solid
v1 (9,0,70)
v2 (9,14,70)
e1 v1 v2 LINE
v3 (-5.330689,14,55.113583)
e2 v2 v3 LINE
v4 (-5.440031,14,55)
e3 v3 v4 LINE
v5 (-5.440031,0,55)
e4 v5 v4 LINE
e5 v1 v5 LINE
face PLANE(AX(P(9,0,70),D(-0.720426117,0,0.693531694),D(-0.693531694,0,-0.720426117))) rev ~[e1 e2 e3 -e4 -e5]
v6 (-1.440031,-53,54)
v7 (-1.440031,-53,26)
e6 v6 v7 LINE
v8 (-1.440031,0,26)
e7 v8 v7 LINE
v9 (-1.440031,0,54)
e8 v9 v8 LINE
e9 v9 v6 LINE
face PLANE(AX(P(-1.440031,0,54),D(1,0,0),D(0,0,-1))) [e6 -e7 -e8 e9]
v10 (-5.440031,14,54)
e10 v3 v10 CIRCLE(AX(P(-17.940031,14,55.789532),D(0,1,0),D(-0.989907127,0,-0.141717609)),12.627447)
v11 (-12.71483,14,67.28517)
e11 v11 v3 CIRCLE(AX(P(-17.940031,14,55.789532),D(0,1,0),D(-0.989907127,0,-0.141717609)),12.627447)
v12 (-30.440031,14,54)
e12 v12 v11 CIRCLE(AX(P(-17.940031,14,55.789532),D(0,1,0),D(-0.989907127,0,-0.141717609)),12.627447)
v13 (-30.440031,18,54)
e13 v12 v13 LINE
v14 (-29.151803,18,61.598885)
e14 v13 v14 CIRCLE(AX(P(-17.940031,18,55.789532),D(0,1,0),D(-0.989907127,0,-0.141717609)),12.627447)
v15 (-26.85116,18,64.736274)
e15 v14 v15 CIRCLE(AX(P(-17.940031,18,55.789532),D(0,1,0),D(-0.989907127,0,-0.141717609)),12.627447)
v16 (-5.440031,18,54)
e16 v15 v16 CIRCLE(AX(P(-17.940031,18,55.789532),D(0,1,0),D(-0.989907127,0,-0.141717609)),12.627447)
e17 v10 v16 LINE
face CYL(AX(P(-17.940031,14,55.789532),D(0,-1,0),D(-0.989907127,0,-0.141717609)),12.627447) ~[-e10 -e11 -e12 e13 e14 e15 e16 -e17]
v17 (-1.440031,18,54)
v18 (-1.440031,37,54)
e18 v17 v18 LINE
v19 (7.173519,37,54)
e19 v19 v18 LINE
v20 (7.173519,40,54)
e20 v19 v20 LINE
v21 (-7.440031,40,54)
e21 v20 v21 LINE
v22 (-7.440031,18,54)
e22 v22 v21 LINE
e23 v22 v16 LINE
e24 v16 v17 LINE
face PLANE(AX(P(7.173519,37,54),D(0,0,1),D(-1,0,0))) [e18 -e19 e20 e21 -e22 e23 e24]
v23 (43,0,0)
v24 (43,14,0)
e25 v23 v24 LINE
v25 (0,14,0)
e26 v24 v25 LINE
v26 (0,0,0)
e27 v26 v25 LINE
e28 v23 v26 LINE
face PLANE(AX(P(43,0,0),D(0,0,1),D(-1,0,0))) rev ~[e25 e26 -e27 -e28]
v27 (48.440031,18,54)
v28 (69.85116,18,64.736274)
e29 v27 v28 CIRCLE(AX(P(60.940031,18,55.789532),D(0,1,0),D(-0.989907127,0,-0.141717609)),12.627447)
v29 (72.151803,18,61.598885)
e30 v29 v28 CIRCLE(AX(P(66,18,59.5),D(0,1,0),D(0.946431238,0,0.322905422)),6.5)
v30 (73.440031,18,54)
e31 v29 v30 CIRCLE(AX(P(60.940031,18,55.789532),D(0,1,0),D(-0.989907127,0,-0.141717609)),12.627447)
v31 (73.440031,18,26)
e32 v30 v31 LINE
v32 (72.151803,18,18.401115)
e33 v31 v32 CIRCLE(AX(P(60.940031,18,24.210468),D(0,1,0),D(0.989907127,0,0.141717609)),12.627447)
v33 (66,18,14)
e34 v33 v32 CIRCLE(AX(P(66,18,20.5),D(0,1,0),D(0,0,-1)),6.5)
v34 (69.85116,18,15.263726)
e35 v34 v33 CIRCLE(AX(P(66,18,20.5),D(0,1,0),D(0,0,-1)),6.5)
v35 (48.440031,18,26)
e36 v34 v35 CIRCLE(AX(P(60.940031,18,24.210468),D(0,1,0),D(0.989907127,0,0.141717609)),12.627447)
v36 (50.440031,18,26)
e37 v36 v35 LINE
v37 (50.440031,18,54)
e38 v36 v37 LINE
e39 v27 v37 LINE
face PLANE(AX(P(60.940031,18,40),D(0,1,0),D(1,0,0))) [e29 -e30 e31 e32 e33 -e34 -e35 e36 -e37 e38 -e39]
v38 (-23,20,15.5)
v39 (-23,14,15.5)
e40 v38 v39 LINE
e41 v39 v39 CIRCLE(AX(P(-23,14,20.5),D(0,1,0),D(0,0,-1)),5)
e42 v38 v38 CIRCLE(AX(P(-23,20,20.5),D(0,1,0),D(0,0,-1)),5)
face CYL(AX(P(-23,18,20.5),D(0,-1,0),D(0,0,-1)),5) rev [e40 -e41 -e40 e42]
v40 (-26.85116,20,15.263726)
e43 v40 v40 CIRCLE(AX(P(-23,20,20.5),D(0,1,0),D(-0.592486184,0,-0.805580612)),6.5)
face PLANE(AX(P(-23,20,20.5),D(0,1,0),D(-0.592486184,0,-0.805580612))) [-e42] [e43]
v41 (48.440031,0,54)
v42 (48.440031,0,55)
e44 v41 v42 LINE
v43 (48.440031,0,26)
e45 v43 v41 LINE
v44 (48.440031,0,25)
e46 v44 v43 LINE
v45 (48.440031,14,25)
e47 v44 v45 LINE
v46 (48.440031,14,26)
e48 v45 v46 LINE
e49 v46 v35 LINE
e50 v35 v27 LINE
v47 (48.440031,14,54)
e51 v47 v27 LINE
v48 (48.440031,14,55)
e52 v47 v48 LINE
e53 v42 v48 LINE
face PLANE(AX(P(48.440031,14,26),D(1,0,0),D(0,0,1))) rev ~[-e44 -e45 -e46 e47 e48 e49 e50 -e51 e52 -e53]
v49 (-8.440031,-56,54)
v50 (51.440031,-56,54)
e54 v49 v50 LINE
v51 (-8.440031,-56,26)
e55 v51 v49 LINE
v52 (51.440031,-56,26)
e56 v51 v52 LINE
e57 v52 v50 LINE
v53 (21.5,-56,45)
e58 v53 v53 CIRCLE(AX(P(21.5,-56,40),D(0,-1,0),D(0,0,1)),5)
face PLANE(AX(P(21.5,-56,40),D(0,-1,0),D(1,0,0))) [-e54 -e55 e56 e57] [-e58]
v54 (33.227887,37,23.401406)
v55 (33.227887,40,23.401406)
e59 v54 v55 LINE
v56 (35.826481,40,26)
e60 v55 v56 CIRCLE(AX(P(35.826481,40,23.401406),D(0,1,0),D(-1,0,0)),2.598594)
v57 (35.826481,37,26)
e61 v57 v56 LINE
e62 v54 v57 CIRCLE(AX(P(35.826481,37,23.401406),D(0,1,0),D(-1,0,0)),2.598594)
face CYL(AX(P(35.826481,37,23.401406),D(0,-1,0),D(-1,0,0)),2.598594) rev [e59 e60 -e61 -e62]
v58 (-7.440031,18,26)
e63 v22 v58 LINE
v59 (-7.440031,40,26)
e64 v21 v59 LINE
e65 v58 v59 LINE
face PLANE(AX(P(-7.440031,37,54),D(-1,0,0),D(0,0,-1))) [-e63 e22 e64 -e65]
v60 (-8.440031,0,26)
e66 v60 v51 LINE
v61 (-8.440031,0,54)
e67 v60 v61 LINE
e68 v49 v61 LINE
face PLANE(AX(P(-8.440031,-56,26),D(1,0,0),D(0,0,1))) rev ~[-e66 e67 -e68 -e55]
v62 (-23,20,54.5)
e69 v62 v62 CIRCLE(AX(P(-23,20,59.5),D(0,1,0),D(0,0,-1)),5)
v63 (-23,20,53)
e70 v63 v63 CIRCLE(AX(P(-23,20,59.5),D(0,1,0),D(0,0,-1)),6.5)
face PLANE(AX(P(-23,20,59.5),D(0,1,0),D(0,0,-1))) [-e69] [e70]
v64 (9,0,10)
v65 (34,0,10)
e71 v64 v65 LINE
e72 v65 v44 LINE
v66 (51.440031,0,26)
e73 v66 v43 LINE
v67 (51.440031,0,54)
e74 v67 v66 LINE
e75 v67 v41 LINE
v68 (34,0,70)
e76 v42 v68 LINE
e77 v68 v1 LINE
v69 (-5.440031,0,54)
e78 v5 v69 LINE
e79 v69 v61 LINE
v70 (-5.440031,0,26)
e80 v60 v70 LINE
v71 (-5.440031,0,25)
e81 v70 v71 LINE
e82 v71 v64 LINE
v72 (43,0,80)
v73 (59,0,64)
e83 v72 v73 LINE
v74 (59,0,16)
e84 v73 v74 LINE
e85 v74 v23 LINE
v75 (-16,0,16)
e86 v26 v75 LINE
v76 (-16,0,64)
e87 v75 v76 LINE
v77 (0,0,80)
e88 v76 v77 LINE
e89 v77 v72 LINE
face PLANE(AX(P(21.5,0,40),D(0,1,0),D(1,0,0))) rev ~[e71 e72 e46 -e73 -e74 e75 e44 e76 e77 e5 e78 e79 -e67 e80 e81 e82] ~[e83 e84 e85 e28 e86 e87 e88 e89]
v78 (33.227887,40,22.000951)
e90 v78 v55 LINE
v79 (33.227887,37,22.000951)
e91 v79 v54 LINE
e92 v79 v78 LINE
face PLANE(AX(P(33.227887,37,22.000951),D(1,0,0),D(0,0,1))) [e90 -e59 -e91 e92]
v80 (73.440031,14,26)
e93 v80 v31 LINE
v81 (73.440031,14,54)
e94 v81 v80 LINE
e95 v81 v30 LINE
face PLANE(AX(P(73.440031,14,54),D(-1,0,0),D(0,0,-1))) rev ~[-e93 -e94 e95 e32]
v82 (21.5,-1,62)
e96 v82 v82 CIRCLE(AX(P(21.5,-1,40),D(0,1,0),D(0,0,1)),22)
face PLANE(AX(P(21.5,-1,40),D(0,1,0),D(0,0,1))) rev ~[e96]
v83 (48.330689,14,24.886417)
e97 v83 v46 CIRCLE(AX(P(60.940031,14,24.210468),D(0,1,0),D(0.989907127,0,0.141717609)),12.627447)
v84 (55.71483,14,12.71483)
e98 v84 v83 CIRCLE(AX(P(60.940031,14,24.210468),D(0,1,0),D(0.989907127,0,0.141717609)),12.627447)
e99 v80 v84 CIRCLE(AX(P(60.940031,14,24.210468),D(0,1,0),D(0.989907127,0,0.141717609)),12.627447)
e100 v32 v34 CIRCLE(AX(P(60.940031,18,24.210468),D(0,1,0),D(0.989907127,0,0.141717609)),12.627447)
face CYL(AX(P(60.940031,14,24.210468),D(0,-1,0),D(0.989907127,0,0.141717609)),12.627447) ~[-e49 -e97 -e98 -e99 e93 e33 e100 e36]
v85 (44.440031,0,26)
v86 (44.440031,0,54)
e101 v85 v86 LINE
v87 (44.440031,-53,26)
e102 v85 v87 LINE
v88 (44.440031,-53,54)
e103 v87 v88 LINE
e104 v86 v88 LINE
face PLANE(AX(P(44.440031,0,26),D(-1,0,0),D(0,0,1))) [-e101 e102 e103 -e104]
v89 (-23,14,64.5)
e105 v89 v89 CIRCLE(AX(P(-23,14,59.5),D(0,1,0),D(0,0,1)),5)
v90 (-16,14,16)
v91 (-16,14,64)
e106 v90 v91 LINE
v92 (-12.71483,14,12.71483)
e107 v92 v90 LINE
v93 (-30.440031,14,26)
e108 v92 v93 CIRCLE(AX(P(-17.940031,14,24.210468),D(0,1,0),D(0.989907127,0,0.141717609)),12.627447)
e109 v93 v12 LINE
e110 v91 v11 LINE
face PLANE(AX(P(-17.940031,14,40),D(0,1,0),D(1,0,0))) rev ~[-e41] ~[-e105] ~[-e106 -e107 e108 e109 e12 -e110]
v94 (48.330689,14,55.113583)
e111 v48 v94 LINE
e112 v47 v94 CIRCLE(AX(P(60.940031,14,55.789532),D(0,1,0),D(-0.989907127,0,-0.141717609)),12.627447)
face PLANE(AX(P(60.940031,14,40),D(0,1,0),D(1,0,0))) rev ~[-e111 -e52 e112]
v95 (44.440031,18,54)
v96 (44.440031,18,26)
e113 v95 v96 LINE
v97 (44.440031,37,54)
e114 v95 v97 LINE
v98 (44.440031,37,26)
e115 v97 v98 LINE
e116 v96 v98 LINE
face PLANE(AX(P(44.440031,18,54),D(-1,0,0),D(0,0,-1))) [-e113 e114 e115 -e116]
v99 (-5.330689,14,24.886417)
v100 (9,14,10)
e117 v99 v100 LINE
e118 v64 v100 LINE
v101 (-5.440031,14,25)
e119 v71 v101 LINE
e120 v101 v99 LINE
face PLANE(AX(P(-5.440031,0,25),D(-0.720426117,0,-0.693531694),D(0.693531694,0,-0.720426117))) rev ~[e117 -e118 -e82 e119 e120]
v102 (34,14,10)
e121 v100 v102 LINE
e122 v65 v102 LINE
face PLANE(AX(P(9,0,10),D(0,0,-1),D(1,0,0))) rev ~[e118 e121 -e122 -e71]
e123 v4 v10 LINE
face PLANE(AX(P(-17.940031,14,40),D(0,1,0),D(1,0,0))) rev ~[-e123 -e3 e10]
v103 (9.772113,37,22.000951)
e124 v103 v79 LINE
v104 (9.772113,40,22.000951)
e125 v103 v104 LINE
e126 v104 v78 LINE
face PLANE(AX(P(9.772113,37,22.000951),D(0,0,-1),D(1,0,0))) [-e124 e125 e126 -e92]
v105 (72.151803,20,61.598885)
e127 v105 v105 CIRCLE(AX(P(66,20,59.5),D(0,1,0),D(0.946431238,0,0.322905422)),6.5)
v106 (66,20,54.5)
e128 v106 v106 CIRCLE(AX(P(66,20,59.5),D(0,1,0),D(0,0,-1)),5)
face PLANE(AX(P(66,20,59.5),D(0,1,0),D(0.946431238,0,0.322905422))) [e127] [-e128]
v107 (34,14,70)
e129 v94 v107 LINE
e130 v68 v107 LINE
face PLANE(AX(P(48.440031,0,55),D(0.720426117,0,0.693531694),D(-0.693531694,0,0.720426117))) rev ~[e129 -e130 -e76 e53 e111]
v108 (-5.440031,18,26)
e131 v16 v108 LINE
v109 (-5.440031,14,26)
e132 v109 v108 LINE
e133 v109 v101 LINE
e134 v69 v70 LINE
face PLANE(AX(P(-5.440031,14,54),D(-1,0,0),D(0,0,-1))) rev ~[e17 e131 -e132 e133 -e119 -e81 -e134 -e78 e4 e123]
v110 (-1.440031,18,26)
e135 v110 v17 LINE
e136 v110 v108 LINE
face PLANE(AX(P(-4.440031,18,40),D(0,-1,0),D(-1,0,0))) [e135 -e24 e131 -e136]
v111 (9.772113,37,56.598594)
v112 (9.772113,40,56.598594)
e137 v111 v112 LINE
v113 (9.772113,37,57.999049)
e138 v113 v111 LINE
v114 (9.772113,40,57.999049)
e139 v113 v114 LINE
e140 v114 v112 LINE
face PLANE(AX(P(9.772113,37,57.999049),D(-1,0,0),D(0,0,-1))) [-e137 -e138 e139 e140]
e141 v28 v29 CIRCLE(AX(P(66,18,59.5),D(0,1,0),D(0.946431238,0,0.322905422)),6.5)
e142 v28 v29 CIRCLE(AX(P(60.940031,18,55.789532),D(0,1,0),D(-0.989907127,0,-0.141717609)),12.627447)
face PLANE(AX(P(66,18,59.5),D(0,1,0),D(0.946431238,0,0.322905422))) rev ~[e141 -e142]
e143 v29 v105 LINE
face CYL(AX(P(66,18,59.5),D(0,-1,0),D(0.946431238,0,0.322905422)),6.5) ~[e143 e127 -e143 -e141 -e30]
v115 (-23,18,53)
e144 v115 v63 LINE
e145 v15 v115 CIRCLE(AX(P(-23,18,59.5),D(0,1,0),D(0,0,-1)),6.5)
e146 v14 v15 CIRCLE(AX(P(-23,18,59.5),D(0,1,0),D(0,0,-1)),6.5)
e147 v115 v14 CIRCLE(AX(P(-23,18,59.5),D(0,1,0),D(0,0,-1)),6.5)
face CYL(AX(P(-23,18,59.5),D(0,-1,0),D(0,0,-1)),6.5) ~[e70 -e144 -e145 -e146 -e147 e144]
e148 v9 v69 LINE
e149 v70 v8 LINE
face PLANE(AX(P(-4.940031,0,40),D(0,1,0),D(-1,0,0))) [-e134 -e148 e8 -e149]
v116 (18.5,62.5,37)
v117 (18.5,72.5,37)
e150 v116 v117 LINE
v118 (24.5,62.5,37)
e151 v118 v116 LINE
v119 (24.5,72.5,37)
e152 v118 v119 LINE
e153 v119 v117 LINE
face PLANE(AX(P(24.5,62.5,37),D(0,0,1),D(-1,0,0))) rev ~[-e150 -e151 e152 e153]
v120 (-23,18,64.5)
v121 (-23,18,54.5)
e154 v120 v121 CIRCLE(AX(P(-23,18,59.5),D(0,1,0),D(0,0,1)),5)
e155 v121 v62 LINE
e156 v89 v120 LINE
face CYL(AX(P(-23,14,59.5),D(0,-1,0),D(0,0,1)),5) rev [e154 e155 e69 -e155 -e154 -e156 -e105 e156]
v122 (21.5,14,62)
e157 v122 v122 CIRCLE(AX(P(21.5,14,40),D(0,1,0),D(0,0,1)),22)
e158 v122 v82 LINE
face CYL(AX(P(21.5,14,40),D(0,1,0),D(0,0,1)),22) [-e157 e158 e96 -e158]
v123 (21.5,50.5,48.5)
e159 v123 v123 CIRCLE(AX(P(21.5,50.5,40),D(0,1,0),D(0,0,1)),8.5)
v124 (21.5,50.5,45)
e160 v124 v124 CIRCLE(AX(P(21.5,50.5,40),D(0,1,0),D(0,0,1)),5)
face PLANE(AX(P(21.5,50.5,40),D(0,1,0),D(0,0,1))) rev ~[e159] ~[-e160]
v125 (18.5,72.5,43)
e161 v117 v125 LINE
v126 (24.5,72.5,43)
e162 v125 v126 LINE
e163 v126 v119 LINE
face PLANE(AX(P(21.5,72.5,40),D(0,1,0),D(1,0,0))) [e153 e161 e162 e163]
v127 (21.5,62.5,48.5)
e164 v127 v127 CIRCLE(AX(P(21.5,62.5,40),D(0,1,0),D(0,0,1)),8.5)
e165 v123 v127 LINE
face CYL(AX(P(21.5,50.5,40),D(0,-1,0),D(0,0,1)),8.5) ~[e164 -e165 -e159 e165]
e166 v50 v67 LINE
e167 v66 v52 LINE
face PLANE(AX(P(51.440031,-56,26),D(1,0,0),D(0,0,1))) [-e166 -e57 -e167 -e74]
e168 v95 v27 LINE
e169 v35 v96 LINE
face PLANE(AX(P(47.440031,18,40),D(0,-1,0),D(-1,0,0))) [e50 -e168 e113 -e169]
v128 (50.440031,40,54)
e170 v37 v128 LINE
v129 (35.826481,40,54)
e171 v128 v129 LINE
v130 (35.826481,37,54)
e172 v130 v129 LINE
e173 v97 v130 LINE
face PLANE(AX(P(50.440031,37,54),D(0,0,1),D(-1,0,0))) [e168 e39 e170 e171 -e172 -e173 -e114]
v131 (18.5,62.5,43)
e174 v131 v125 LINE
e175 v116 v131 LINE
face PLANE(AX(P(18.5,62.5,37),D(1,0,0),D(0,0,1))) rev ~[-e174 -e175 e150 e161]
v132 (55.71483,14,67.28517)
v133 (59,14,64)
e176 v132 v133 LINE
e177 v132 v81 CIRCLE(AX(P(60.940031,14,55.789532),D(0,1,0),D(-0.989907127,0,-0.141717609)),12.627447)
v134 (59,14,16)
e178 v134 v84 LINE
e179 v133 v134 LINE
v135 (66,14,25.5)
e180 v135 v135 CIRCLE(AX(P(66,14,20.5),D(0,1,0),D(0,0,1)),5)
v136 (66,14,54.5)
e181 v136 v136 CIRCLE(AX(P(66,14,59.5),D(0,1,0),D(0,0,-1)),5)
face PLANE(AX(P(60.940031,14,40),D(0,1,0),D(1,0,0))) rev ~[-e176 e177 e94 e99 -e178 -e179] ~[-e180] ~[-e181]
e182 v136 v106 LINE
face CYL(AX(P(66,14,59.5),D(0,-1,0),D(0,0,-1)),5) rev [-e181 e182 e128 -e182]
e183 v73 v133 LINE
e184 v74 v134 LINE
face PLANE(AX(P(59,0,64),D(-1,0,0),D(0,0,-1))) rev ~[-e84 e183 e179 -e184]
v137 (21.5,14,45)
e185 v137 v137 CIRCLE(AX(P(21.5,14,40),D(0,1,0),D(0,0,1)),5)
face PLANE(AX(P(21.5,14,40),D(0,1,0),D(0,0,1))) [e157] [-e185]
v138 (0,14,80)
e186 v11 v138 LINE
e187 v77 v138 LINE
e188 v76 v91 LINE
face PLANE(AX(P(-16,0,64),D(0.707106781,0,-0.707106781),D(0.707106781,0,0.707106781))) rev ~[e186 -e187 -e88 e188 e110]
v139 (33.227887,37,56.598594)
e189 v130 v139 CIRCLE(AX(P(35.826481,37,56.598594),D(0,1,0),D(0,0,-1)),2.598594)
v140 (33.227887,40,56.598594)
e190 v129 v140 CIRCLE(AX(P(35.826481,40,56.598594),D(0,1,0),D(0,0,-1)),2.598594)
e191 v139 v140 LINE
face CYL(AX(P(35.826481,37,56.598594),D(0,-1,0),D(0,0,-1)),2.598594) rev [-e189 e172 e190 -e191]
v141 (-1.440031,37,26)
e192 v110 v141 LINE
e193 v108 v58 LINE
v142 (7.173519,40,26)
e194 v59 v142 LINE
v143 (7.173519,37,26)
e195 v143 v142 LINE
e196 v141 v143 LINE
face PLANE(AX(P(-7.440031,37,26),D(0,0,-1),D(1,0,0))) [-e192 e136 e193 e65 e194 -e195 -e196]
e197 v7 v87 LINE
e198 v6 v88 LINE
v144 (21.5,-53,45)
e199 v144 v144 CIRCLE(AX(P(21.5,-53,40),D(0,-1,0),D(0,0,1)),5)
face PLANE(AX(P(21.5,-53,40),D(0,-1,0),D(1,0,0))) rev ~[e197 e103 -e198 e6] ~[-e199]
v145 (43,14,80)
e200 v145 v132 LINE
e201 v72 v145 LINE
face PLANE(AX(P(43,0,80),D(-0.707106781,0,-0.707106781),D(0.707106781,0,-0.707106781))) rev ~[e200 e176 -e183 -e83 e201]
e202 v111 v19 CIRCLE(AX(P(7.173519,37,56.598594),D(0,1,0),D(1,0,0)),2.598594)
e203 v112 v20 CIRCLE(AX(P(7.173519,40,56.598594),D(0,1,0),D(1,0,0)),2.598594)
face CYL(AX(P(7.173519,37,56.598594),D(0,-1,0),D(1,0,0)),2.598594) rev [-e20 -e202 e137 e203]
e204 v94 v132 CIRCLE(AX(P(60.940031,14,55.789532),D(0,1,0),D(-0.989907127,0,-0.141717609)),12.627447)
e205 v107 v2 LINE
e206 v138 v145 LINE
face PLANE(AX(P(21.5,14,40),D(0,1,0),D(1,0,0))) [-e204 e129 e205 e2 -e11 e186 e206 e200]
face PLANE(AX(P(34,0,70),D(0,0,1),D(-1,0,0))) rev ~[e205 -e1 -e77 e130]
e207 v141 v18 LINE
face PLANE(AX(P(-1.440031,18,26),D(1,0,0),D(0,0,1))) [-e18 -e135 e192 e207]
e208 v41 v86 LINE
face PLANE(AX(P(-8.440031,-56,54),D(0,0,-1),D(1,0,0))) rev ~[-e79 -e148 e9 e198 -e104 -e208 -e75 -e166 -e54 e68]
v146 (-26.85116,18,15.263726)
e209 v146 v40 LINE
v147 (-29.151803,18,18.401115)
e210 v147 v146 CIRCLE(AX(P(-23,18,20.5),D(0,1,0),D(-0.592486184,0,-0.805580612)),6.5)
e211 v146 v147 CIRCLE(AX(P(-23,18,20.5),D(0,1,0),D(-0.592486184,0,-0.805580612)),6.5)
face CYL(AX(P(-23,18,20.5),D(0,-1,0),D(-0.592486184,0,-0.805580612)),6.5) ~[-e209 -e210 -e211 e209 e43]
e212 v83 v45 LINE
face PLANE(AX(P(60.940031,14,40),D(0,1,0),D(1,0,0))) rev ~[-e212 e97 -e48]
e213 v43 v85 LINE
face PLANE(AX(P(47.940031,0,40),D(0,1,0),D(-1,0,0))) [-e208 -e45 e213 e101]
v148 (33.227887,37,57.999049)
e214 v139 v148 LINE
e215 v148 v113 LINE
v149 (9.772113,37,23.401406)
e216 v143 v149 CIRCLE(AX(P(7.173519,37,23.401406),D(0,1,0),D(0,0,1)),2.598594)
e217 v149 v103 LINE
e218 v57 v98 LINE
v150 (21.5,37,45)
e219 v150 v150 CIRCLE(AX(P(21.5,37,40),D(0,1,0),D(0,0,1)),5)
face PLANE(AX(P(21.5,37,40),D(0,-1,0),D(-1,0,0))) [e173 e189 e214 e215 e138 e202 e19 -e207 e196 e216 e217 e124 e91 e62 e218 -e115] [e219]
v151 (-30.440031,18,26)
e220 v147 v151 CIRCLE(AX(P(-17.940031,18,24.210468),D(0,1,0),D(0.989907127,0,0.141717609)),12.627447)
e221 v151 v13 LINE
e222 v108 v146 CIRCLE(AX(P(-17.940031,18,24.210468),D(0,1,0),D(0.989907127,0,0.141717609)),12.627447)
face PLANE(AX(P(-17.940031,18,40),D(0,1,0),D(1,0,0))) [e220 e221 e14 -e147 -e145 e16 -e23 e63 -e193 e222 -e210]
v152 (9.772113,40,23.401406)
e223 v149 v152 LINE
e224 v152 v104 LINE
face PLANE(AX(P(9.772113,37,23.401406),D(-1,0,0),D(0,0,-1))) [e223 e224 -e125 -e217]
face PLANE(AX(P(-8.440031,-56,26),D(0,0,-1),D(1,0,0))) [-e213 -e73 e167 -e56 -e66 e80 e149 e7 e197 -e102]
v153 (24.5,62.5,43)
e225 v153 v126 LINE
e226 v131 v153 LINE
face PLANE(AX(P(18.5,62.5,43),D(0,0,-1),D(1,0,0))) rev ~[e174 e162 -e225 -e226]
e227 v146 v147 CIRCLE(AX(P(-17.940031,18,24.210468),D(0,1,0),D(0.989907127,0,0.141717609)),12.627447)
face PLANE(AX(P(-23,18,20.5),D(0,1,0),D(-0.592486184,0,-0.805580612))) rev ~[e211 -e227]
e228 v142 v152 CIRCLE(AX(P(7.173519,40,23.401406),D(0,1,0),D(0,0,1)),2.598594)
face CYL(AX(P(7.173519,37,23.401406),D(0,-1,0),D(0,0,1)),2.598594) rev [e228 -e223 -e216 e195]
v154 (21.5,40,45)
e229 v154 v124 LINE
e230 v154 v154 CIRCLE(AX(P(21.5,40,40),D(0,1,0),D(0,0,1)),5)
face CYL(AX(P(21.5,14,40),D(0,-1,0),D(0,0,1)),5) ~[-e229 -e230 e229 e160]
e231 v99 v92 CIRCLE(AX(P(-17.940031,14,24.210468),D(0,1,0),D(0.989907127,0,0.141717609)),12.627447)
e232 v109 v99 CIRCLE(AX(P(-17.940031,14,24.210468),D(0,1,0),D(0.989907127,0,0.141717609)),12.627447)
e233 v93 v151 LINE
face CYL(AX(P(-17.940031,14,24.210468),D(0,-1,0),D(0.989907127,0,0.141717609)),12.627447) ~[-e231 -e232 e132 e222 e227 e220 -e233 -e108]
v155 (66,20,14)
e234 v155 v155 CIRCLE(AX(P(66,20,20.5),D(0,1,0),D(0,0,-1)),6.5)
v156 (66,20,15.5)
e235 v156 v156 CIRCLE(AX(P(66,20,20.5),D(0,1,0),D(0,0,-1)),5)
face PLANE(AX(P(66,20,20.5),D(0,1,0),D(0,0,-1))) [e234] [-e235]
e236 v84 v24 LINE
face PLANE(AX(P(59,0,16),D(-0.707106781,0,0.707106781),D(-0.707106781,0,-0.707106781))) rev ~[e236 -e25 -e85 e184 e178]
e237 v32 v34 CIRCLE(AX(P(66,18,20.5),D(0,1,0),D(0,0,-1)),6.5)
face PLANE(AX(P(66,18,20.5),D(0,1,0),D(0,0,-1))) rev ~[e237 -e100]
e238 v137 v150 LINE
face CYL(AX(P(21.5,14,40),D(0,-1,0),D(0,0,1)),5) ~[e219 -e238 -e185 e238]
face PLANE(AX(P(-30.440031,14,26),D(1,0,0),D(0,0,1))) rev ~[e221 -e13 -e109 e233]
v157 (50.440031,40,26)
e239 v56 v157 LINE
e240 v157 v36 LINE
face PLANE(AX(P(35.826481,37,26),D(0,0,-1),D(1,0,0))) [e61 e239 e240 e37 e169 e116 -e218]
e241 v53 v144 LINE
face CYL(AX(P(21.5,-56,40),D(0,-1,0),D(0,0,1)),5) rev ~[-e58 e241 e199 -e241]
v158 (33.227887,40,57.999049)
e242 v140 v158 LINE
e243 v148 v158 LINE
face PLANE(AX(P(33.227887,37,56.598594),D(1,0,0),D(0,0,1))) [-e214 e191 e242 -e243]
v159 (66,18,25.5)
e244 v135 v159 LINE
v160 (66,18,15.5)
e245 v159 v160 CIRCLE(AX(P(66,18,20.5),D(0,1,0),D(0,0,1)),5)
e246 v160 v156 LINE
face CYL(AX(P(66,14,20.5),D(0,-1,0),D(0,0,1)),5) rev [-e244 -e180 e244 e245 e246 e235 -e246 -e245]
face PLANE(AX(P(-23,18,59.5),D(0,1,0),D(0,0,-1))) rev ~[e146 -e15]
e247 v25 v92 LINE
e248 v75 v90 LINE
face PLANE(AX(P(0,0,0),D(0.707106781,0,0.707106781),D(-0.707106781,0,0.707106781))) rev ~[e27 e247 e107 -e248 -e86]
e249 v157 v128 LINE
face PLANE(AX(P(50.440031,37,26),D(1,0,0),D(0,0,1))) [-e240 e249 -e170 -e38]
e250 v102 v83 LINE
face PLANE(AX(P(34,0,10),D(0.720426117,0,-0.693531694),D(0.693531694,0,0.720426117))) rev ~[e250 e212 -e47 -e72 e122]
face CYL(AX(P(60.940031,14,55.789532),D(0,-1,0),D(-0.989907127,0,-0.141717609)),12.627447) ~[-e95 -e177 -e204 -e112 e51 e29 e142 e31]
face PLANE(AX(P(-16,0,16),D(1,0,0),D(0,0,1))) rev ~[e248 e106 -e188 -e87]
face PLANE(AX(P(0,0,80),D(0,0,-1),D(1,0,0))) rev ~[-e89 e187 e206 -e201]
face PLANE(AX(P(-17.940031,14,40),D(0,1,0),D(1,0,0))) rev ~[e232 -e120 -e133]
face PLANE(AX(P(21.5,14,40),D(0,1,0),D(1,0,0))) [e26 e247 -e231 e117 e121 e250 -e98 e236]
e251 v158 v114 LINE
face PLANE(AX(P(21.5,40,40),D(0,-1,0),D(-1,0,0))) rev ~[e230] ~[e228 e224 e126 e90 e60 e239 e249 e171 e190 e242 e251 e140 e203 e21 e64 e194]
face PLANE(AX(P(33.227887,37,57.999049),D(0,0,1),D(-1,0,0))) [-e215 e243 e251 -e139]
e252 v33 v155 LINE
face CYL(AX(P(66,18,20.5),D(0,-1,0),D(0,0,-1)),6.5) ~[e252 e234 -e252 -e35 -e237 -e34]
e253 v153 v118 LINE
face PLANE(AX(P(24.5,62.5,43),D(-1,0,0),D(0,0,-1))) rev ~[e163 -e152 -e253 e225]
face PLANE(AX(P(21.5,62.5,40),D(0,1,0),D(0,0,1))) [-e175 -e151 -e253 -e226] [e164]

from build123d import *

# Parameters (mm, degrees)
SALIENTE_EXTRUIR1_DEPTH  = 14
CROQUIS4_R               = 22
SALIENTE_EXTRUIR2_DEPTH  = 15
CROQUIS5_R               = 5
SALIENTE_EXTRUIR3_DEPTH  = 4
CROQUIS7_R               = 6.5
CROQUIS7_R_2             = 5
SALIENTE_EXTRUIR4_DEPTH  = 2
SALIENTE_EXTRUIR5_DEPTH  = 19
CROQUIS9_R               = 5
SALIENTE_EXTRUIR6_DEPTH  = 3
CROQUIS10_R              = 5
SALIENTE_EXTRUIR7_DEPTH  = 36.5
CROQUIS12_R              = 8.5
SALIENTE_EXTRUIR8_DEPTH  = 12
SALIENTE_EXTRUIR9_DEPTH  = 53
SALIENTE_EXTRUIR10_START = 3
CROQUIS14_W              = 59.880061862
CROQUIS14_H              = 28
CROQUIS14_R              = 5
SALIENTE_EXTRUIR10_DEPTH = 3
SALIENTE_EXTRUIR11_DEPTH = 10


with BuildPart() as part:
    # Croquis2 → Saliente-Extruir1 (new body)
    with BuildSketch(Plane(origin=(0, 0, 0), x_dir=(1, 0, 0), z_dir=(0, 1, 0))):
        Polygon((43, 0), (0, 0), (-16, -16), (-16, -64), (0, -80), (21.5, -80), (43, -80), (59, -64), (59, -16), align=None)
        Polygon((48.440030931, -25), (48.440030931, -55), (34, -70), (9, -70), (-5.440030931, -55), (-5.440030931, -25), (9, -10), (34, -10), align=None, mode=Mode.SUBTRACT)
    extrude(amount=SALIENTE_EXTRUIR1_DEPTH)

    # Croquis5 → Saliente-Extruir3 (add)
    # profile 1 of 2: a face of its own
    with BuildSketch(Plane(origin=(0, 14, 0), x_dir=(1, 0, 0), z_dir=(0, 1, 0))):
        with BuildLine():
            Line((-30.440030931, -26), (-30.440030931, -54))
            ThreePointArc((-30.440030931, -54), (-17.940030931, -68.416978851), (-5.440030931, -54))
            Line((-5.440030931, -54), (-5.440030931, -26))
            ThreePointArc((-5.440030931, -26), (-17.940030931, -11.583021149), (-30.440030931, -26))
        make_face()
        with Locations(Location((-23, -59.5, 0), (0, 0, 270))):
            Circle(CROQUIS5_R, mode=Mode.SUBTRACT)
        with Locations(Location((-23, -20.5, 0), (0, 0, 90))):
            Circle(CROQUIS5_R, mode=Mode.SUBTRACT)
    # profile 2 of 2: a face of its own
    with BuildSketch(Plane(origin=(0, 14, 0), x_dir=(1, 0, 0), z_dir=(0, 1, 0))):
        with BuildLine():
            Line((48.440030931, -26), (48.440030931, -54))
            ThreePointArc((48.440030931, -54), (60.940030931, -68.416978851), (73.440030931, -54))
            Line((73.440030931, -54), (73.440030931, -26))
            ThreePointArc((73.440030931, -26), (60.940030931, -11.583021149), (48.440030931, -26))
        make_face()
        with Locations(Location((66, -20.5, 0), (0, 0, 270))):
            Circle(CROQUIS5_R, mode=Mode.SUBTRACT)
        with Locations(Location((66, -59.5, 0), (0, 0, 90))):
            Circle(CROQUIS5_R, mode=Mode.SUBTRACT)
    extrude(amount=SALIENTE_EXTRUIR3_DEPTH)

    # Croquis7 → Saliente-Extruir4 (add)
    # profile 1 of 4: a face of its own
    with BuildSketch(Plane(origin=(0, 18, 0), x_dir=(1, 0, 0), z_dir=(0, 1, 0))):
        with Locations(Location((-23, -20.5, 0), (0, 0, 126.333634549))):
            Circle(CROQUIS7_R)
        with Locations(Location((-23, -20.5, 0), (0, 0, 90))):
            Circle(CROQUIS7_R_2, mode=Mode.SUBTRACT)
    # profile 2 of 4: a face of its own
    with BuildSketch(Plane(origin=(0, 18, 0), x_dir=(1, 0, 0), z_dir=(0, 1, 0))):
        with Locations(Location((-23, -59.5, 0), (0, 0, 90))):
            Circle(CROQUIS7_R)
        with Locations(Location((-23, -59.5, 0), (0, 0, 90))):
            Circle(CROQUIS7_R_2, mode=Mode.SUBTRACT)
    # profile 3 of 4: a face of its own
    with BuildSketch(Plane(origin=(0, 18, 0), x_dir=(1, 0, 0), z_dir=(0, 1, 0))):
        with Locations(Location((66, -59.5, 0), (0, 0, 341.1612762))):
            Circle(CROQUIS7_R)
        with Locations(Location((66, -59.5, 0), (0, 0, 90))):
            Circle(CROQUIS7_R_2, mode=Mode.SUBTRACT)
    # profile 4 of 4: a face of its own
    with BuildSketch(Plane(origin=(0, 18, 0), x_dir=(1, 0, 0), z_dir=(0, 1, 0))):
        with Locations(Location((66, -20.5, 0), (0, 0, 90))):
            Circle(CROQUIS7_R)
        with Locations(Location((66, -20.5, 0), (0, 0, 90))):
            Circle(CROQUIS7_R_2, mode=Mode.SUBTRACT)
    extrude(amount=SALIENTE_EXTRUIR4_DEPTH)

    # Croquis8 → Saliente-Extruir5 (add)
    with BuildSketch(Plane(origin=(0, 18, 0), x_dir=(1, 0, 0), z_dir=(0, 1, 0))):
        Polygon((-5.440030931, -26), (-1.440030931, -26), (-1.440030931, -54), (-5.440030931, -54), (-7.440030931, -54), (-7.440030931, -26), align=None)
        Polygon((50.440030931, -54), (48.440030931, -54), (44.440030931, -54), (44.440030931, -26), (48.440030931, -26), (50.440030931, -26), align=None)
    extrude(amount=SALIENTE_EXTRUIR5_DEPTH)

    # Croquis9 → Saliente-Extruir6 (add)
    with BuildSketch(Plane(origin=(0, 37, 0), x_dir=(1, 0, 0), z_dir=(0, 1, 0))):
        with BuildLine():
            Line((-7.440030931, -26), (7.17351898, -26))
            ThreePointArc((7.17351898, -26), (9.011002532, -25.238889392), (9.77211314, -23.40140584))
            Line((9.77211314, -23.40140584), (9.77211314, -22.000951417))
            Line((9.77211314, -22.000951417), (33.22788686, -22.000951417))
            Line((33.22788686, -22.000951417), (33.22788686, -23.40140584))
            ThreePointArc((33.22788686, -23.40140584), (33.988997468, -25.238889392), (35.82648102, -26))
            Line((35.82648102, -26), (50.440030931, -26))
            Line((50.440030931, -26), (50.440030931, -54))
            Line((50.440030931, -54), (35.82648102, -54))
            ThreePointArc((35.82648102, -54), (33.988997468, -54.761110608), (33.22788686, -56.59859416))
            Line((33.22788686, -56.59859416), (33.22788686, -57.999048583))
            Line((33.22788686, -57.999048583), (9.77211314, -57.999048583))
            Line((9.77211314, -57.999048583), (9.77211314, -56.59859416))
            ThreePointArc((9.77211314, -56.59859416), (9.011002532, -54.761110608), (7.17351898, -54))
            Line((7.17351898, -54), (-7.440030931, -54))
            Line((-7.440030931, -54), (-7.440030931, -26))
        make_face()
        with Locations(Location((21.5, -40, 0), (0, 0, 270))):
            Circle(CROQUIS9_R, mode=Mode.SUBTRACT)
    extrude(amount=SALIENTE_EXTRUIR6_DEPTH)



with BuildPart() as body_2:
    # Croquis4 → Saliente-Extruir2 (new body)
    with BuildSketch(Plane(origin=(0, 14, 0), x_dir=(1, 0, 0), z_dir=(0, 1, 0))):
        with Locations(Location((21.5, -40, 0), (0, 0, 270))):
            Circle(CROQUIS4_R)
    extrude(amount=-SALIENTE_EXTRUIR2_DEPTH)


with BuildPart() as part_1:
    add(part.part)

    add(body_2.part)  # Saliente-Extruir7 merges body 2
    # Croquis10 → Saliente-Extruir7 (add)
    with BuildSketch(Plane(origin=(0, 14, 0), x_dir=(1, 0, 0), z_dir=(0, 1, 0))):
        with Locations(Location((21.5, -40, 0), (0, 0, 270))):
            Circle(CROQUIS10_R)
    extrude(amount=SALIENTE_EXTRUIR7_DEPTH)

    # Croquis12 → Saliente-Extruir8 (add)
    with BuildSketch(Plane(origin=(0, 50.5, 0), x_dir=(1, 0, 0), z_dir=(0, 1, 0))):
        with Locations(Location((21.5, -40, 0), (0, 0, 270))):
            Circle(CROQUIS12_R)
    extrude(amount=SALIENTE_EXTRUIR8_DEPTH)

    # Croquis13 → Saliente-Extruir9 (add)
    with BuildSketch(Plane.XZ):
        Polygon((-5.440030931, 54), (-1.440030931, 54), (-1.440030931, 26), (-5.440030931, 26), (-8.440030931, 26), (-8.440030931, 54), align=None)
        Polygon((48.440030931, 54), (51.440030931, 54), (51.440030931, 26), (44.440030931, 26), (44.440030931, 54), align=None)
    extrude(amount=SALIENTE_EXTRUIR9_DEPTH)

    # Croquis14 → Saliente-Extruir10 (add)
    with BuildSketch(Plane.XZ.offset(53).offset(SALIENTE_EXTRUIR10_START)):
        with Locations((21.5, 40)):
            Rectangle(CROQUIS14_W, CROQUIS14_H)
        with Locations(Location((21.5, 40, 0), (0, 0, 90))):
            Circle(CROQUIS14_R, mode=Mode.SUBTRACT)
    extrude(amount=-SALIENTE_EXTRUIR10_DEPTH)

    # Croquis15 → Saliente-Extruir11 (add)
    with BuildSketch(Plane(origin=(0, 62.5, 0), x_dir=(1, 0, 0), z_dir=(0, 1, 0))):
        Polygon((21.5, -37), (18.5, -37), (18.5, -43), (24.5, -43), (24.5, -37), align=None)
    extrude(amount=SALIENTE_EXTRUIR11_DEPTH)


solid = part_1.part
